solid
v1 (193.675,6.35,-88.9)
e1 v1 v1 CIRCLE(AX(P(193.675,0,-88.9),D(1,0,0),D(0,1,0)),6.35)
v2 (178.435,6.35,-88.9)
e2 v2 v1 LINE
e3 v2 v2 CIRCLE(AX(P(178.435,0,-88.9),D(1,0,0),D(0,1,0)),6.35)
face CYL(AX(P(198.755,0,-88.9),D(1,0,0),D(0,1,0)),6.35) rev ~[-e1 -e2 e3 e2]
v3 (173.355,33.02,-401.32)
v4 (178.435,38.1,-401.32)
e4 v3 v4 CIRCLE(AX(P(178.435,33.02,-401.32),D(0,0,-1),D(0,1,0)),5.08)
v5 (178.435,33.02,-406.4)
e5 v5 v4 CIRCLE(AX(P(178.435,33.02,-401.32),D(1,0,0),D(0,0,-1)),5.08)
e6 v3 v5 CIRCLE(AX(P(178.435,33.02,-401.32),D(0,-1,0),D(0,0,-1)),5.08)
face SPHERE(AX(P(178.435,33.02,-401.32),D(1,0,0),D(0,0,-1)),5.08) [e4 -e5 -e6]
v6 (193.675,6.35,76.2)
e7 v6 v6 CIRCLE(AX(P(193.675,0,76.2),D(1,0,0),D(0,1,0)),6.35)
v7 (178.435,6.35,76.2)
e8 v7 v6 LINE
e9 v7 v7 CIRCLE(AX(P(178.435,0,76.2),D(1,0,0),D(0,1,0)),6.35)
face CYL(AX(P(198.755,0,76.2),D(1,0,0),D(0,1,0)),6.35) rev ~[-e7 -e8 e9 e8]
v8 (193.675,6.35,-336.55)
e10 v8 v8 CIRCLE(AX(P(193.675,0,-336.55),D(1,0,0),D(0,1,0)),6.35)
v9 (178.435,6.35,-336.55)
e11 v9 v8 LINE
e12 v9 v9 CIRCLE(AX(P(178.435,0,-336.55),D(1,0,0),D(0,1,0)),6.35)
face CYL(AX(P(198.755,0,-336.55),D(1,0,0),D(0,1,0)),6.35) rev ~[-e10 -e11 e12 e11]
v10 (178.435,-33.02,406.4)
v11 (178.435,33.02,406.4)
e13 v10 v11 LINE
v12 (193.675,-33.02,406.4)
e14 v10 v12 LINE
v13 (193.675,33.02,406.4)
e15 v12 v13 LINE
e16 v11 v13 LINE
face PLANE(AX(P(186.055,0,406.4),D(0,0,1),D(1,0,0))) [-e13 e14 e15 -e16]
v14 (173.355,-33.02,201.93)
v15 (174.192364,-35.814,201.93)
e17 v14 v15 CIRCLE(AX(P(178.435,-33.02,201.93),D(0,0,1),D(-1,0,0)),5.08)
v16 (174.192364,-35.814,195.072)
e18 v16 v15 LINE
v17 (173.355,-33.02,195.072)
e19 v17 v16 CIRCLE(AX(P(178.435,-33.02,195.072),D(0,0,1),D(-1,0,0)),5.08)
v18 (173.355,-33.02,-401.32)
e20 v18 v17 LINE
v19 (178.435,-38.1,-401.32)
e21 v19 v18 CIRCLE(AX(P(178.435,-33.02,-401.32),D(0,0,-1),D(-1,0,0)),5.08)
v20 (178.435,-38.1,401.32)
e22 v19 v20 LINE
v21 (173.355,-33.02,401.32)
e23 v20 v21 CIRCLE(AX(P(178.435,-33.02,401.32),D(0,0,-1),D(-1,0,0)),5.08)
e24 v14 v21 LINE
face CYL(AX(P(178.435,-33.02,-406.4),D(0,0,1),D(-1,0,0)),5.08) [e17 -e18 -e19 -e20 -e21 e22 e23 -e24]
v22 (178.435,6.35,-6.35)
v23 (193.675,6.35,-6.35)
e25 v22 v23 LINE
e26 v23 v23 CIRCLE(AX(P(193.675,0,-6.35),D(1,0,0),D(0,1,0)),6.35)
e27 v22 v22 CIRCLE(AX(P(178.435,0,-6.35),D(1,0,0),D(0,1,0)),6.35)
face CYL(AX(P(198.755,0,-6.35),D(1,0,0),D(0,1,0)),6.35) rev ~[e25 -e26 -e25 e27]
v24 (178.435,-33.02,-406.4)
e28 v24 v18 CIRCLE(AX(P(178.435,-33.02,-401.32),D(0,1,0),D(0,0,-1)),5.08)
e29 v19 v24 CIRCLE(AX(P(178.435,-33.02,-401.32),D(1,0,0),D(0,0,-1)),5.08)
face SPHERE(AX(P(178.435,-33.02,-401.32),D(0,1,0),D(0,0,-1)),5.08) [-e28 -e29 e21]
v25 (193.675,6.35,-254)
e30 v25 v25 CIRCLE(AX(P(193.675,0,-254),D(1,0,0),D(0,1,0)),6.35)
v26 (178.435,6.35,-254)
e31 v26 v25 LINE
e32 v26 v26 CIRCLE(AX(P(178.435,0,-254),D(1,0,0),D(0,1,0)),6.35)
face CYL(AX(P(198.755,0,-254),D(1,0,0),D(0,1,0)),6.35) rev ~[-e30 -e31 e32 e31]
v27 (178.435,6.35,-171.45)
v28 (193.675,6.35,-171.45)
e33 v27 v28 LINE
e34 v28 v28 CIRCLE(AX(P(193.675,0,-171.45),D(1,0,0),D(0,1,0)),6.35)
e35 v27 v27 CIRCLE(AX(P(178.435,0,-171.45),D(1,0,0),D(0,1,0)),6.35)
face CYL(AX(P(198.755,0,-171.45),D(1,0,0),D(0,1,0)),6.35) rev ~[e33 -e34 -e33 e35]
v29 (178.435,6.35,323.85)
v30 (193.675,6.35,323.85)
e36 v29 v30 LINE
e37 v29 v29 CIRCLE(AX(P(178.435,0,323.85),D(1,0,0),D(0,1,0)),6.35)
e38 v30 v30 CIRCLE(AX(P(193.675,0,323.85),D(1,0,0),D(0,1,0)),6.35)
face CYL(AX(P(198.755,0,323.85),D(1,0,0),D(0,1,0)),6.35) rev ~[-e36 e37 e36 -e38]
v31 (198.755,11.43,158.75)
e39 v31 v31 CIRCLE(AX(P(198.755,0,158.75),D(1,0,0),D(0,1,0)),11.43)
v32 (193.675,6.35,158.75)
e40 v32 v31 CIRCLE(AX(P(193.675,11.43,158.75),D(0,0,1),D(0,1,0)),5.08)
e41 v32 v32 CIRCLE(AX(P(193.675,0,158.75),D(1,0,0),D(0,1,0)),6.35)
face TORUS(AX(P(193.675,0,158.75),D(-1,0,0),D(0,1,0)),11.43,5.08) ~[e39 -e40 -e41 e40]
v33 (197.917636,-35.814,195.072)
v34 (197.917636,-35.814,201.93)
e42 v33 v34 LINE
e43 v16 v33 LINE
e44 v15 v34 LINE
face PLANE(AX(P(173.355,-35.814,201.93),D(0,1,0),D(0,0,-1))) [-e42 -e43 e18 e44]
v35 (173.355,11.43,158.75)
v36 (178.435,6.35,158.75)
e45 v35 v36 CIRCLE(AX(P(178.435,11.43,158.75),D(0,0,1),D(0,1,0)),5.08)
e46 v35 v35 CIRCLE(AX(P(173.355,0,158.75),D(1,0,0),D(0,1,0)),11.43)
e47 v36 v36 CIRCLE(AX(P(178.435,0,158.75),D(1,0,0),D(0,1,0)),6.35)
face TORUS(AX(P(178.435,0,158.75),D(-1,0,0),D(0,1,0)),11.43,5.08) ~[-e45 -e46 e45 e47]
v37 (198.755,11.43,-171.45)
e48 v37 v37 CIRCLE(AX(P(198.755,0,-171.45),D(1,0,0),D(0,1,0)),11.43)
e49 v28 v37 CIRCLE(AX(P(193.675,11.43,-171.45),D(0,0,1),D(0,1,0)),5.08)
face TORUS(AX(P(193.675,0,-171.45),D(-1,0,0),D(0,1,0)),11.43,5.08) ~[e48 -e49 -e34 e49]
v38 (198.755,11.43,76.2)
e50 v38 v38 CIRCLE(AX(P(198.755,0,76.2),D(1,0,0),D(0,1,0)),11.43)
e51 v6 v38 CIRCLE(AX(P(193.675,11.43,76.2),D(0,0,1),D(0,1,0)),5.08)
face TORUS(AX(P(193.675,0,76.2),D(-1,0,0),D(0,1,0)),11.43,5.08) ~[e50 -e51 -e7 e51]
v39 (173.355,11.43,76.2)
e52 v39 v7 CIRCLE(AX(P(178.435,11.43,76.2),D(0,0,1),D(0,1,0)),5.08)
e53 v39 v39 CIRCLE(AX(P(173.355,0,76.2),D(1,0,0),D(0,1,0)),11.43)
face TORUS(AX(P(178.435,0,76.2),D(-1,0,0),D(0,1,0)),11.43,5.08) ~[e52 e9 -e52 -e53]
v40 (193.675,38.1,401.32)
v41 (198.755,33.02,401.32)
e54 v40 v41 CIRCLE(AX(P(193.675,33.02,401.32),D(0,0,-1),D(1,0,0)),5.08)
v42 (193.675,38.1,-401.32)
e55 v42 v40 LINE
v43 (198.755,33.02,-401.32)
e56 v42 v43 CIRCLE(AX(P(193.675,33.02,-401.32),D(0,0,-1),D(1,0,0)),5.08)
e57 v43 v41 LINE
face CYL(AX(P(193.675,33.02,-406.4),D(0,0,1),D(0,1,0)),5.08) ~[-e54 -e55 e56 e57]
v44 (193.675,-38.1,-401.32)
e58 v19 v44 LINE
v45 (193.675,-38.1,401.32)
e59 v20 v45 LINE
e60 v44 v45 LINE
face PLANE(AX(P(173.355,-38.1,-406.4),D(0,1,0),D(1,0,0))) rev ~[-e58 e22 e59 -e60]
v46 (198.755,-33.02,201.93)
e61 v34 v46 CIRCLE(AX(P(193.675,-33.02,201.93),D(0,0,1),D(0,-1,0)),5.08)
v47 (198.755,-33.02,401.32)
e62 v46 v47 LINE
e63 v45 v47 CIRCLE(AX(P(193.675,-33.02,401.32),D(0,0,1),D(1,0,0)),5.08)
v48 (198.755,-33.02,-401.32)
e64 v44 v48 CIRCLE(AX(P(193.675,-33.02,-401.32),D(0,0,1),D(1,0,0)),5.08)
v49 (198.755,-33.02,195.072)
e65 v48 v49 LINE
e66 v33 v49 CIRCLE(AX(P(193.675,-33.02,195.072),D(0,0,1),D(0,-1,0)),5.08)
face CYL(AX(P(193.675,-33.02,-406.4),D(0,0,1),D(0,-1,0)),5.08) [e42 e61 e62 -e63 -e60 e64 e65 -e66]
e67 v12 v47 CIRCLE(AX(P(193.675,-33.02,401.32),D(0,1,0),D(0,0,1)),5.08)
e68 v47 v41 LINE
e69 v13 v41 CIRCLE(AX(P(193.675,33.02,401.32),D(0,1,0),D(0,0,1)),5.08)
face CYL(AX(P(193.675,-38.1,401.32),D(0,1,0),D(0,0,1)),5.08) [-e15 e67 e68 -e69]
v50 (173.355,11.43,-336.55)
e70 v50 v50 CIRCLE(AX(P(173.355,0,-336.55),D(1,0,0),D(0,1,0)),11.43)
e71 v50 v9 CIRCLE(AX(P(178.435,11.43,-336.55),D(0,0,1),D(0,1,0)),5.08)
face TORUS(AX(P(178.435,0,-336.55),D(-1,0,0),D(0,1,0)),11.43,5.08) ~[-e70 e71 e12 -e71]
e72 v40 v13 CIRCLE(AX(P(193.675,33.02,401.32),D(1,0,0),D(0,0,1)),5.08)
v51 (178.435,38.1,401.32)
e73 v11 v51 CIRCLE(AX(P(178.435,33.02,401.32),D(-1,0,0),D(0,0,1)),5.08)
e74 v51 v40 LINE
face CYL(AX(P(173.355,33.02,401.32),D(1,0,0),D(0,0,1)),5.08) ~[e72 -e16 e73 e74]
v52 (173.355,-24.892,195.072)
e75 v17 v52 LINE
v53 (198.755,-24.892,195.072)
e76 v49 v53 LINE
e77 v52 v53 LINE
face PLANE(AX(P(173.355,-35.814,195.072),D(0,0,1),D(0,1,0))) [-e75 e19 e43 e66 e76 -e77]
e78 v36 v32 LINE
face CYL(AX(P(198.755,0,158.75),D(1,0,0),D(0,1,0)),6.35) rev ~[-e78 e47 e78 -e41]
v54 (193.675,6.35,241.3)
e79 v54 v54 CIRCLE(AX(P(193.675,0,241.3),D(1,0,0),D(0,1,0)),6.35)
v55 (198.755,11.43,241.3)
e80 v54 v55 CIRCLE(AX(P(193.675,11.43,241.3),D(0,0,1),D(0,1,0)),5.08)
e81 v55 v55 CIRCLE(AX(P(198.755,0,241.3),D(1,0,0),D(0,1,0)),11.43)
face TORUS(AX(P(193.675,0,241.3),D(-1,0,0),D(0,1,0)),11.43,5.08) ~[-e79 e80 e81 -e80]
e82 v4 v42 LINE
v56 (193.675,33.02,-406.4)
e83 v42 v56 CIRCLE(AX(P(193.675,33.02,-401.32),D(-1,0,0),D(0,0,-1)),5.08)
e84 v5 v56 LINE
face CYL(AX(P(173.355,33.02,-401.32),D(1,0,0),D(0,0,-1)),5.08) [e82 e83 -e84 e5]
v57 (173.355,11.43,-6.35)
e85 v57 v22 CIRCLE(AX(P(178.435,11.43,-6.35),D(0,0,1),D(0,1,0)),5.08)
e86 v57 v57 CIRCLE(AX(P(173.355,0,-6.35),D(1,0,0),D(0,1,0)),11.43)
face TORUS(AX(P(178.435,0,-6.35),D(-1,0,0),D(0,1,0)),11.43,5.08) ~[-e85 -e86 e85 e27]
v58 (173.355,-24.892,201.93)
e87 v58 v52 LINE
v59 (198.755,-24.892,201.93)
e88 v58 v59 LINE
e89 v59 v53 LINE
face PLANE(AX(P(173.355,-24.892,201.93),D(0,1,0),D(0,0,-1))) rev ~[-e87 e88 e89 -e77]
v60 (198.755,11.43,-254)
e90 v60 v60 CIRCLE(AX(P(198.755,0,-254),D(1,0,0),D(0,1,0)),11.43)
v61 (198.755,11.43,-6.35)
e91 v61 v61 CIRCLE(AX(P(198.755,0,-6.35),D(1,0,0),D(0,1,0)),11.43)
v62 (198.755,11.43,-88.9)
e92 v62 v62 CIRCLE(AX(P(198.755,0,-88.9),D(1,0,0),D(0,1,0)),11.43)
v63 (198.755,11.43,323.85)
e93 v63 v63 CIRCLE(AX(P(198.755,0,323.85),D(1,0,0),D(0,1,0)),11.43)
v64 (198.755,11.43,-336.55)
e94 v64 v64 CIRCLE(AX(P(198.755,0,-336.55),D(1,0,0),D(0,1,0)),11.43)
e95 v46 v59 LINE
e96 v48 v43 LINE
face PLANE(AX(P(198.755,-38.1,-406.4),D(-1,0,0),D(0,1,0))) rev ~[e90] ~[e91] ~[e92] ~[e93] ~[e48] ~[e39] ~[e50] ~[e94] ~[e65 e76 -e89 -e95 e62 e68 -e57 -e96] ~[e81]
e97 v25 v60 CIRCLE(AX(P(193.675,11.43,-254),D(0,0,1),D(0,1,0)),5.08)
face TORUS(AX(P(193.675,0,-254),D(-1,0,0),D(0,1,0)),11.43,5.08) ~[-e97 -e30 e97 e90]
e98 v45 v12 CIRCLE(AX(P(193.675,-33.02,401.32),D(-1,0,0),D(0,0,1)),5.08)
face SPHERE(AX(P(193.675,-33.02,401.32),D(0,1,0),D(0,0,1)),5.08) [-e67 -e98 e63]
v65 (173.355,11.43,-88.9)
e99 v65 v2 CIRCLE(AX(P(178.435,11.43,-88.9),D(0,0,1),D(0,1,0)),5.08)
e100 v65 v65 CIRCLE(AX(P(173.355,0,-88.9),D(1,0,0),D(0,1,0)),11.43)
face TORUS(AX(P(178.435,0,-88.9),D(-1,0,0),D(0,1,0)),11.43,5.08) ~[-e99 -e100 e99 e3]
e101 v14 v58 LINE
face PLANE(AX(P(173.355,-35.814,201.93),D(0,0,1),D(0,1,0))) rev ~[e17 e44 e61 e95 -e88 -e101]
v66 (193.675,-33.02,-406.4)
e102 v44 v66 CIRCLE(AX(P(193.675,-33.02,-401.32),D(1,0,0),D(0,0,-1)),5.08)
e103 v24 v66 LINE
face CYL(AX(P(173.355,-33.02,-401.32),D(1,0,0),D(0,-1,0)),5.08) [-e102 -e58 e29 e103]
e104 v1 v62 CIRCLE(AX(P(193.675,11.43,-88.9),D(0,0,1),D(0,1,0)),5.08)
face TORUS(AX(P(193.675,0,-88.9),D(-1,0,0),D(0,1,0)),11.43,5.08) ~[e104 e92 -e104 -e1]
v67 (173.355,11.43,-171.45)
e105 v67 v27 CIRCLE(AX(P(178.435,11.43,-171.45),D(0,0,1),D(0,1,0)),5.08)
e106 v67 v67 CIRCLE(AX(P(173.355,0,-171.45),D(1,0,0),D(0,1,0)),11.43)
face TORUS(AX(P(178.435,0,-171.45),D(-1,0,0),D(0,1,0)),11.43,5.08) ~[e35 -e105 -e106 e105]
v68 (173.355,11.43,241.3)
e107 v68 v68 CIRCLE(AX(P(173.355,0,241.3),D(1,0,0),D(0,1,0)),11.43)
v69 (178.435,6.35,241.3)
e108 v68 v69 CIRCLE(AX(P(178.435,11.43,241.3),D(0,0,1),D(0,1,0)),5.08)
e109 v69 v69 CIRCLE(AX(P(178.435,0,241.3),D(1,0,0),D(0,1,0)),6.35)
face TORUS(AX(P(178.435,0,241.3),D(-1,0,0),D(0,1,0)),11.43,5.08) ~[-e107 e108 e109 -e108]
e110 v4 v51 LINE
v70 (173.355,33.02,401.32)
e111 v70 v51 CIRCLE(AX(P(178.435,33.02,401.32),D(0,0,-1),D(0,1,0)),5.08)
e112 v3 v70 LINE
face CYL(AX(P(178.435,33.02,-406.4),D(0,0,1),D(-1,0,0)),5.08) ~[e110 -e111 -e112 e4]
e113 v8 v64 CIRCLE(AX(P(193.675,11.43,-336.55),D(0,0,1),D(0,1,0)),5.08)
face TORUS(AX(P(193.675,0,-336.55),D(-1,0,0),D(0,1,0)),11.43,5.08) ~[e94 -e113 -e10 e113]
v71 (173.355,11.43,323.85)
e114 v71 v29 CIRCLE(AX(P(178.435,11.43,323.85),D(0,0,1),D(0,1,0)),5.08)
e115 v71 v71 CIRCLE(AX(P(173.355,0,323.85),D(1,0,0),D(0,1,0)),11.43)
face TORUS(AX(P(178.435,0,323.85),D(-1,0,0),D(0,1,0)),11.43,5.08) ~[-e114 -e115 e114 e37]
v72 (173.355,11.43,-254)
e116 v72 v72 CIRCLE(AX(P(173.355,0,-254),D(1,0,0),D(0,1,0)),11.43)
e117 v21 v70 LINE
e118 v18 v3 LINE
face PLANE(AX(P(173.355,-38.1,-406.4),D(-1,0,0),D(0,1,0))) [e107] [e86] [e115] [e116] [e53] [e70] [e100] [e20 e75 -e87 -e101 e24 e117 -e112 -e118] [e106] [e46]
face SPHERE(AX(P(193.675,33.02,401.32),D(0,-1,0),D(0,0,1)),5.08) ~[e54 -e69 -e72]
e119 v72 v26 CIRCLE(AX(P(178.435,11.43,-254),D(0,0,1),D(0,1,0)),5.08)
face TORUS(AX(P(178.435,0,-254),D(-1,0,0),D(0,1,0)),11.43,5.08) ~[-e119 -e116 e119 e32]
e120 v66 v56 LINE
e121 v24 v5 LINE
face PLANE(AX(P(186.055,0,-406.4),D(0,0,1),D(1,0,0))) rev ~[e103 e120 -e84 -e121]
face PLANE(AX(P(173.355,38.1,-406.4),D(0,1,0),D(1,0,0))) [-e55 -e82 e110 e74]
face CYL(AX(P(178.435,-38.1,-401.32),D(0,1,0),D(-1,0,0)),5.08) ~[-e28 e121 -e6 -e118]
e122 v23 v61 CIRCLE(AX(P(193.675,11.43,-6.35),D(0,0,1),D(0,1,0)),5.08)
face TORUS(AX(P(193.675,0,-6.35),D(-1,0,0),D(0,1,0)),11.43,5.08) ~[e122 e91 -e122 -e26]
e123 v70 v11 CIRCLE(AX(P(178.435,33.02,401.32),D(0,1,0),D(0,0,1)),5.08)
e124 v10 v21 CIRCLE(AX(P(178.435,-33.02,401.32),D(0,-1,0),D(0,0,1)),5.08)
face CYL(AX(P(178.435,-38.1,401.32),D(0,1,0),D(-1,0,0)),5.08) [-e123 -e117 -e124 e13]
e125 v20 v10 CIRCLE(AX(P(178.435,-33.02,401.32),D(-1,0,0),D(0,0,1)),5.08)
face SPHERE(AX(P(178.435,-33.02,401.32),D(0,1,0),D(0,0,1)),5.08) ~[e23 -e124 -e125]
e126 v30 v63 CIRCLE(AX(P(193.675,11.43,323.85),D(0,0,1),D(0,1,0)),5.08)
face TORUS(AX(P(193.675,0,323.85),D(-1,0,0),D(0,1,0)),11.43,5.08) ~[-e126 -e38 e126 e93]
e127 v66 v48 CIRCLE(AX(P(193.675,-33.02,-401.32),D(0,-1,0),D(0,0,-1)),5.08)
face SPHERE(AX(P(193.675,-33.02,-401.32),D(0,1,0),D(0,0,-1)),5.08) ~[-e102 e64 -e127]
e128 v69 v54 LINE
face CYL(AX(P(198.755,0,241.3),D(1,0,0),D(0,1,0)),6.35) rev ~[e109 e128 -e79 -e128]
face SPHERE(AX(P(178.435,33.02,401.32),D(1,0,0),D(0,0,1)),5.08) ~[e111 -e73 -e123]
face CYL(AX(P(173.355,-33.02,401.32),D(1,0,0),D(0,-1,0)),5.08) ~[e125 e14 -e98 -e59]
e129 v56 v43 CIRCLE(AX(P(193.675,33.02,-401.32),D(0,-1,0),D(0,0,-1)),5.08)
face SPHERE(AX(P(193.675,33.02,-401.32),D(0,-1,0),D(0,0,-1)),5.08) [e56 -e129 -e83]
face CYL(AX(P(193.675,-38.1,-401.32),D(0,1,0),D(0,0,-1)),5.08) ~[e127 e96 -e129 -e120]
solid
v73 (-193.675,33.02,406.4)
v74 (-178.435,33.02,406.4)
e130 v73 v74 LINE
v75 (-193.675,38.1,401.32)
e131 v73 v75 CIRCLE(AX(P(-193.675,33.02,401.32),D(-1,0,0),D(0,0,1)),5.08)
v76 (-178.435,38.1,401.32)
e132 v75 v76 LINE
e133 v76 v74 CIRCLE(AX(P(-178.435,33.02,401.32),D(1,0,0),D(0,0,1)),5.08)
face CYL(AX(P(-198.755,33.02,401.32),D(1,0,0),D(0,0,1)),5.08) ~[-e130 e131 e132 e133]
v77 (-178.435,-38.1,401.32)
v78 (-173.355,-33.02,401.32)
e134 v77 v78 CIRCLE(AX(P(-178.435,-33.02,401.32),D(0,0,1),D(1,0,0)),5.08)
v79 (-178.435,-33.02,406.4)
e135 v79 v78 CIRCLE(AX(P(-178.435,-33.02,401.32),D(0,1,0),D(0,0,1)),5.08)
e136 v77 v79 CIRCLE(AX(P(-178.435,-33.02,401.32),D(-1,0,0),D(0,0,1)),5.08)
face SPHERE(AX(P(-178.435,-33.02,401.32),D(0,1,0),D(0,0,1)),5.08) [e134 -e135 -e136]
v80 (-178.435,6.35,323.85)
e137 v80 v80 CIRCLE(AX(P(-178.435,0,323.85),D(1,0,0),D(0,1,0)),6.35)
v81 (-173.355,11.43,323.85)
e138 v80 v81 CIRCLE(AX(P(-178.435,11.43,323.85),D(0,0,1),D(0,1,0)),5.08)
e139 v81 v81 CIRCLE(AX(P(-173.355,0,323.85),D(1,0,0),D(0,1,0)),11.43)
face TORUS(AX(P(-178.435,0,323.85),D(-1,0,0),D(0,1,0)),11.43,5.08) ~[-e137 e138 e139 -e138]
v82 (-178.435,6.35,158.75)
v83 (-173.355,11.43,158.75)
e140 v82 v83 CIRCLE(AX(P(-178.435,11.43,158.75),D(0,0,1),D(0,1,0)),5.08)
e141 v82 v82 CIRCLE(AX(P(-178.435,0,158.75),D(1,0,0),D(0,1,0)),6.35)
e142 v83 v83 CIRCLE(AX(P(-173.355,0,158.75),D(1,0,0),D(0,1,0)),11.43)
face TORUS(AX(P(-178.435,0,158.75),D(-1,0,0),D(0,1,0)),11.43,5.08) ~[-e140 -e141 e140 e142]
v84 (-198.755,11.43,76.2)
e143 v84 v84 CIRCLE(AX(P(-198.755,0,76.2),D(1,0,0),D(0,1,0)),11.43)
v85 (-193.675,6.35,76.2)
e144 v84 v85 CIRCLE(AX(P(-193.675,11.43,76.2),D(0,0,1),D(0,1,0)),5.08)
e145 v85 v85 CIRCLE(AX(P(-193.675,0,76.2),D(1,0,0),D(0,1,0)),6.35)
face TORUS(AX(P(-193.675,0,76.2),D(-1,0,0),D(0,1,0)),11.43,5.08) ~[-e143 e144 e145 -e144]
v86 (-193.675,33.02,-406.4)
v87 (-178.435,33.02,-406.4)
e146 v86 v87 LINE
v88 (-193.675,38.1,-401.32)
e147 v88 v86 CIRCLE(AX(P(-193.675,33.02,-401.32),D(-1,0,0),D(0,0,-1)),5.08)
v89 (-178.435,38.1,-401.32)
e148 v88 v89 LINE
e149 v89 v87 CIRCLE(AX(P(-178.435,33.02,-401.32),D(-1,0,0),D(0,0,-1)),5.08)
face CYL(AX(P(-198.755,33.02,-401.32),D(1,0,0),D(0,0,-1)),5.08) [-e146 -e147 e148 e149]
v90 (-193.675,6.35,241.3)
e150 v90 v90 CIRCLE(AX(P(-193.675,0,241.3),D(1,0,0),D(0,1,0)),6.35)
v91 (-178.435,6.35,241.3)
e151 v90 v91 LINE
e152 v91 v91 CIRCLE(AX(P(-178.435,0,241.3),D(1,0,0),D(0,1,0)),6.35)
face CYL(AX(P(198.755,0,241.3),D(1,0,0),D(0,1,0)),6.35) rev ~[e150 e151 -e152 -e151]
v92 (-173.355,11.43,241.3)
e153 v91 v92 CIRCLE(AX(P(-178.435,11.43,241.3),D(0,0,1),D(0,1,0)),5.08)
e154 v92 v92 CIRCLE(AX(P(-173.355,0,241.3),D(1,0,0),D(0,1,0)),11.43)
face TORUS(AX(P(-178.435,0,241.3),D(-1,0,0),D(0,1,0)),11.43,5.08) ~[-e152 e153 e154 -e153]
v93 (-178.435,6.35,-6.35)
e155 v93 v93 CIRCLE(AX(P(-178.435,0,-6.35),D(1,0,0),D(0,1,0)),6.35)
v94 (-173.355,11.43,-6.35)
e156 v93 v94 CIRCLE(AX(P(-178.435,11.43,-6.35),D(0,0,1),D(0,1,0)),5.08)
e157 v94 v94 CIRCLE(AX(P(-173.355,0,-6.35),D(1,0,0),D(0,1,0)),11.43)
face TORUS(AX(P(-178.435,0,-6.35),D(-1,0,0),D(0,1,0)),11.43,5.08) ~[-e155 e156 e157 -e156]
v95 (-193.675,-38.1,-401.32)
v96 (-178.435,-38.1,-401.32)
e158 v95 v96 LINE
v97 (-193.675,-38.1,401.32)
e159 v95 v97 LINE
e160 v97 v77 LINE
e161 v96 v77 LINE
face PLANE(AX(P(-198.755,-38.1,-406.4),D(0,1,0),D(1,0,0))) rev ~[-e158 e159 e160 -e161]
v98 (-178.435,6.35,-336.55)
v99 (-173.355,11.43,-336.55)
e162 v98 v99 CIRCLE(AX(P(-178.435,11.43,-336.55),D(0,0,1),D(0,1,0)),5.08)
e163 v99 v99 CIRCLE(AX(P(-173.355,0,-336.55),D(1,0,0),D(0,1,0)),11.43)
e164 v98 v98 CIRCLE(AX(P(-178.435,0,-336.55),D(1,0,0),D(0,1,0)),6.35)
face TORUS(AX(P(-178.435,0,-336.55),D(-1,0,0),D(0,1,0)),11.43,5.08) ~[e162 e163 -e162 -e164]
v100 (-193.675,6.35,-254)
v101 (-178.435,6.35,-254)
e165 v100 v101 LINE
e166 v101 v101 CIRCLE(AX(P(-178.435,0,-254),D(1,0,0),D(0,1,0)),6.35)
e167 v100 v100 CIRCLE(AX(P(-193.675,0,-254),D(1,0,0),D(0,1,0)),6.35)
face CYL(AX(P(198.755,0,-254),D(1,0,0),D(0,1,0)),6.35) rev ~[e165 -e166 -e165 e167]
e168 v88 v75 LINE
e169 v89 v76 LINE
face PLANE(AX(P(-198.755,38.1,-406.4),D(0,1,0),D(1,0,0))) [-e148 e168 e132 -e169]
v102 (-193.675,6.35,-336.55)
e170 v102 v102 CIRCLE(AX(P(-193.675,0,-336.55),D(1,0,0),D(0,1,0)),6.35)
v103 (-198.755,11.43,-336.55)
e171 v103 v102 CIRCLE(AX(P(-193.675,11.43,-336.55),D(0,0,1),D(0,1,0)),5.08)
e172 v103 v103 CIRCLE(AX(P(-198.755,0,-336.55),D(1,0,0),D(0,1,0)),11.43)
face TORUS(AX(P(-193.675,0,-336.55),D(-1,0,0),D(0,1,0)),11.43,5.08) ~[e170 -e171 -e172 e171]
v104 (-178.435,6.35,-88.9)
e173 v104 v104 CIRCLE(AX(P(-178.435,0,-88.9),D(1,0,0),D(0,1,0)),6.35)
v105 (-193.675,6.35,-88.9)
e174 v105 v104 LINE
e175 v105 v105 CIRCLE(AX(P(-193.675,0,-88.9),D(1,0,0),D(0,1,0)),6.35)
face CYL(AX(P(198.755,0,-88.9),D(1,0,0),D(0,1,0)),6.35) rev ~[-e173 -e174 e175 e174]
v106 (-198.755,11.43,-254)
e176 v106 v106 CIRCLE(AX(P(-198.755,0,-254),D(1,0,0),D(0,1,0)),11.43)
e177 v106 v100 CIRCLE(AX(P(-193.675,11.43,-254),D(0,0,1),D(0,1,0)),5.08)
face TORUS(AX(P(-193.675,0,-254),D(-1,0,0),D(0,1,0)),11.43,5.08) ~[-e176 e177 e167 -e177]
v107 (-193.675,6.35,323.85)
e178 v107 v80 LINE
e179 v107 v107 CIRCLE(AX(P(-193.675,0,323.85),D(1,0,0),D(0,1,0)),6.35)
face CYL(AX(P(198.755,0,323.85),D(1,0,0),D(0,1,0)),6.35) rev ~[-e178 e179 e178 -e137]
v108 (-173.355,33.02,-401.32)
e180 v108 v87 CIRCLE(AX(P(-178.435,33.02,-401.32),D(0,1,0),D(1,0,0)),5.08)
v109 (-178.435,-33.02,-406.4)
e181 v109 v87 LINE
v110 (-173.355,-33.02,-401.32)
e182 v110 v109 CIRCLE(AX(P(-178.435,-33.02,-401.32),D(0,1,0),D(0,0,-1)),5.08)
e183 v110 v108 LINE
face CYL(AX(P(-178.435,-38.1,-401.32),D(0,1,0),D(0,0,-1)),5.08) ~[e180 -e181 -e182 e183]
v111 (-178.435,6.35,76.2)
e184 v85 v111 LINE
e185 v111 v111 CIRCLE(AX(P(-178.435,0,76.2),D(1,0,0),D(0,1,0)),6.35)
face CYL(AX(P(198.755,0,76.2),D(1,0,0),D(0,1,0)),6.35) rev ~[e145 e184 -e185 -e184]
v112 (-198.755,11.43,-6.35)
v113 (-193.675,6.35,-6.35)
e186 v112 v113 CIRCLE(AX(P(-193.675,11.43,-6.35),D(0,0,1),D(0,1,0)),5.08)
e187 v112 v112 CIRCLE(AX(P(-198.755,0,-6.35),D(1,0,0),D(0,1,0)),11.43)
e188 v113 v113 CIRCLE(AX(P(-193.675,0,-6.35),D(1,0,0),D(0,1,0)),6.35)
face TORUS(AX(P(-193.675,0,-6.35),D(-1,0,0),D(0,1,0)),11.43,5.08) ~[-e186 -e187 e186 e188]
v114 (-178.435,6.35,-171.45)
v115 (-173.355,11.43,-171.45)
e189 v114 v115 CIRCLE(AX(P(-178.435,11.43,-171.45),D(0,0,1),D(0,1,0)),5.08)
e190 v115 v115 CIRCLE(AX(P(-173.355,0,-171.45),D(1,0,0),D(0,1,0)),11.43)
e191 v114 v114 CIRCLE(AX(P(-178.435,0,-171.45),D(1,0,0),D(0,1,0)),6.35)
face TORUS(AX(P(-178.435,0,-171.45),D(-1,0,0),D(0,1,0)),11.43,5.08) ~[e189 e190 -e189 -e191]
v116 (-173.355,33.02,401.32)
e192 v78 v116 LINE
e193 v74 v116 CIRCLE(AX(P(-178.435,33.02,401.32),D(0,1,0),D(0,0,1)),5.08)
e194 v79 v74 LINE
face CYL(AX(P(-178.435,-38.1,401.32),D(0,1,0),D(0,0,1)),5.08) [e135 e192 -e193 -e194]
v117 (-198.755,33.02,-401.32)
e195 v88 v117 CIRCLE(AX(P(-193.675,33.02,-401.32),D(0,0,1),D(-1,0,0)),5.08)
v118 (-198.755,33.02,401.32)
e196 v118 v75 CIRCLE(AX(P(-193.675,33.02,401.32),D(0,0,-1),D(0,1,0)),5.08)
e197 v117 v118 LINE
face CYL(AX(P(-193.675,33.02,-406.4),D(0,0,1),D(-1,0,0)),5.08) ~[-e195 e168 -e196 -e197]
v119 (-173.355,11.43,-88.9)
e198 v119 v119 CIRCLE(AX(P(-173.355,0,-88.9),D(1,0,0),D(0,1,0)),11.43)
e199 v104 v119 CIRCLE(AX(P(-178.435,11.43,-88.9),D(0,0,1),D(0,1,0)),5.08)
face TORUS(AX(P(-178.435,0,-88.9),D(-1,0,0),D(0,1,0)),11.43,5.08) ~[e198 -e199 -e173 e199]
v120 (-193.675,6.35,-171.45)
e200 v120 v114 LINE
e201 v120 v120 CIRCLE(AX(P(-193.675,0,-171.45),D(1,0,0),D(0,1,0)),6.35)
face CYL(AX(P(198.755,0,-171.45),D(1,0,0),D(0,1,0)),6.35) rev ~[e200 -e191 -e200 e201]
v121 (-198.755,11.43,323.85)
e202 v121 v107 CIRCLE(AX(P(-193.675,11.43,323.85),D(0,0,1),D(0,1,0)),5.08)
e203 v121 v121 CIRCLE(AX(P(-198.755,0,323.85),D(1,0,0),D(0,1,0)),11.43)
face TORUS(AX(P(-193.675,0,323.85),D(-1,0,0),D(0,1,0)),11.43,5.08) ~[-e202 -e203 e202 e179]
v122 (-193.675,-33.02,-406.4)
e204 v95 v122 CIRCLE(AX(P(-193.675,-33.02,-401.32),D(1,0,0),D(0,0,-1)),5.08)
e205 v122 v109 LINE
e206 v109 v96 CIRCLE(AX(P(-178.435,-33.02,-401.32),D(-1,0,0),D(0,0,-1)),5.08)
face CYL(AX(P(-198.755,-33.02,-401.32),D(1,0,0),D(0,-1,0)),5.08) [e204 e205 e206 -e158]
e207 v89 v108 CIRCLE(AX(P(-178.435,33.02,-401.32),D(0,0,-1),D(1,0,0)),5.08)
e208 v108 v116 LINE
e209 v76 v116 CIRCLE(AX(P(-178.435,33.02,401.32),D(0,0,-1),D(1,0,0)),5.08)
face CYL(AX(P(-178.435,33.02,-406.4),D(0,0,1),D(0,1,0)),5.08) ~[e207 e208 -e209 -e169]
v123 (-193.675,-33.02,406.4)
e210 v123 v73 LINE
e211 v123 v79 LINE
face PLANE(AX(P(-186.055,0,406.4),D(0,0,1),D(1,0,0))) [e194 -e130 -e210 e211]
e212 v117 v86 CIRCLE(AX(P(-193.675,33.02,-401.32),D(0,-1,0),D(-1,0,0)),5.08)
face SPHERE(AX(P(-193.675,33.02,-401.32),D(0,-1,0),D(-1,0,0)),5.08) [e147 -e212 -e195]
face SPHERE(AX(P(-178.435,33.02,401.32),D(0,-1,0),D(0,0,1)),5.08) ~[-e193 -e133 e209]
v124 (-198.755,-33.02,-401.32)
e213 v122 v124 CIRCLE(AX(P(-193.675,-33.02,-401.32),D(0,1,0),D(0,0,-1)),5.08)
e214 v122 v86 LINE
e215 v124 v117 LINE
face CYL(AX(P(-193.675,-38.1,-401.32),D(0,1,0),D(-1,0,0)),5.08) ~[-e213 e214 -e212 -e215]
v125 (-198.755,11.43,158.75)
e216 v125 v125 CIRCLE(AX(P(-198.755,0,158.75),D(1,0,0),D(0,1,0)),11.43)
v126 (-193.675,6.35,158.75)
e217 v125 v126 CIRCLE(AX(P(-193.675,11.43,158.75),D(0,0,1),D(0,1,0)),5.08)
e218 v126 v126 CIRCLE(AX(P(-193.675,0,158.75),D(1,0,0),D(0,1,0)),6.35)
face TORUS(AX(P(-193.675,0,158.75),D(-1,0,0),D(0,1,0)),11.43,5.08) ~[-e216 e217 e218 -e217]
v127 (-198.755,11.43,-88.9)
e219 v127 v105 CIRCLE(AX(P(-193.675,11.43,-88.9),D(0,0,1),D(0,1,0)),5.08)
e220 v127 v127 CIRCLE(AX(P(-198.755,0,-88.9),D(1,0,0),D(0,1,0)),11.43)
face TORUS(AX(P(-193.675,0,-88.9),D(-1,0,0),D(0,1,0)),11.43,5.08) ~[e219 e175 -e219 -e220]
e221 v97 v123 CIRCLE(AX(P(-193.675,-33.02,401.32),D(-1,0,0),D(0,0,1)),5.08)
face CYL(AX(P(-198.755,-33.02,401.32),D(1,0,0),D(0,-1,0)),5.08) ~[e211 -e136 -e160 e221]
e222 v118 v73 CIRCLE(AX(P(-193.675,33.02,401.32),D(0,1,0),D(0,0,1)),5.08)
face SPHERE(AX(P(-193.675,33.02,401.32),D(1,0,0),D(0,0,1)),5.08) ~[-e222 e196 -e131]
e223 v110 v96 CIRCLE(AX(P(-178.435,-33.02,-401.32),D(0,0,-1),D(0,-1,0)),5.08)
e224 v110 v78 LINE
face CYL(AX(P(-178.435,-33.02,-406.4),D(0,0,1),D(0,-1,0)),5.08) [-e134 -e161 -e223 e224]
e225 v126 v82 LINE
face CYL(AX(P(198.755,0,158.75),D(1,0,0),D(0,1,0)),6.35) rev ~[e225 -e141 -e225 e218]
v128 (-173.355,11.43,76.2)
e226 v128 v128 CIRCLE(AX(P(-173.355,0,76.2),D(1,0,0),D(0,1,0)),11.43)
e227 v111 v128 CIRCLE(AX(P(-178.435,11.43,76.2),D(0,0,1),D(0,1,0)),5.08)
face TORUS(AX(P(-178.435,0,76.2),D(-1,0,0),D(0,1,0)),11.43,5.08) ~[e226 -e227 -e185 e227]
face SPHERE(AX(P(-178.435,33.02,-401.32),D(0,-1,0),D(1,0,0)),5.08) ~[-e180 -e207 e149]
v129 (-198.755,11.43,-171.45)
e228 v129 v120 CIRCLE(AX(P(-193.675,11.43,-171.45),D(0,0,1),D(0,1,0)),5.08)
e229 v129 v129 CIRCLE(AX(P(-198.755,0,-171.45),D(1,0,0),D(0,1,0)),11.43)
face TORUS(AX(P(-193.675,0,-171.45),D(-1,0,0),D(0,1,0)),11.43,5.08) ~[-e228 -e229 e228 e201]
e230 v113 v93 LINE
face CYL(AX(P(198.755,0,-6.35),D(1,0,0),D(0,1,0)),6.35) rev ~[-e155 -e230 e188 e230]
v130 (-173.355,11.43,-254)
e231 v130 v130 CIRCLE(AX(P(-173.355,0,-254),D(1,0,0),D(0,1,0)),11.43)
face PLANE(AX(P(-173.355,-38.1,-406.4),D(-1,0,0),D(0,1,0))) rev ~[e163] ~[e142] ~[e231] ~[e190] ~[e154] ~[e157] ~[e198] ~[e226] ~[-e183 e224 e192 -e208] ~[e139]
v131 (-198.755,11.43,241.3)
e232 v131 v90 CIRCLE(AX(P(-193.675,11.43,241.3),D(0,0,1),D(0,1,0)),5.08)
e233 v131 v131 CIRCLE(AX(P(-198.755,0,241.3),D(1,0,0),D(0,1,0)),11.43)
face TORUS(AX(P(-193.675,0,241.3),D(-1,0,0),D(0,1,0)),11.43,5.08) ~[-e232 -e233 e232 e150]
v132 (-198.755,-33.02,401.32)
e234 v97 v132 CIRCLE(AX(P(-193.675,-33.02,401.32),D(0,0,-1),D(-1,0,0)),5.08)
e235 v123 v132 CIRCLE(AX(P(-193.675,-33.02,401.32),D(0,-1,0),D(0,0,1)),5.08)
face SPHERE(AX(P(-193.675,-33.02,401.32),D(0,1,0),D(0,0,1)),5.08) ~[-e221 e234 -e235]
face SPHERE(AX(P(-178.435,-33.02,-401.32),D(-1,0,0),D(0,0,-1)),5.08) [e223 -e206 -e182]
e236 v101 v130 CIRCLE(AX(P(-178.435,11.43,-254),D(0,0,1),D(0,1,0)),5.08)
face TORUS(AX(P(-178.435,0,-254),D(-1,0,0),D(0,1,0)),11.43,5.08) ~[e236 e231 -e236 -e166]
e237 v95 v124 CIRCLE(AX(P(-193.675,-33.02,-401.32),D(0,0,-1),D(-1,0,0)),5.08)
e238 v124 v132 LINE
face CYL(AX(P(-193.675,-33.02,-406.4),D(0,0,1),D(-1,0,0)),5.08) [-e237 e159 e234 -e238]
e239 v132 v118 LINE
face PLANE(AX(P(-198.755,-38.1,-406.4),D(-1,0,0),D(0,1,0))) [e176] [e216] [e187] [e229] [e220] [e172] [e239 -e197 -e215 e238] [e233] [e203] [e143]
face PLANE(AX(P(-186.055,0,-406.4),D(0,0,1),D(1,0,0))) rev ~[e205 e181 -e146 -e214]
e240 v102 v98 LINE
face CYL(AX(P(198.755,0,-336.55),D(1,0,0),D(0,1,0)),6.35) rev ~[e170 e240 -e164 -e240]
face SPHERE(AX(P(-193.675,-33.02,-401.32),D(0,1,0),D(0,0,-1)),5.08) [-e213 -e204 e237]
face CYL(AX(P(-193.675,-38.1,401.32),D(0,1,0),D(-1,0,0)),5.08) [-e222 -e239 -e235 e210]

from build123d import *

# Parameters (mm, degrees)
BOSS_EXTRUDE1_DEPTH        = 406.4
BOSS_EXTRUDE1_DEPTH_BACK   = 406.4
SKETCH1_W                  = 25.4
SKETCH1_H                  = 76.2
BOSS_EXTRUDE1_2_DEPTH      = 406.4
BOSS_EXTRUDE1_2_DEPTH_BACK = 406.4
SKETCH2_R                  = 6.35
CUT_EXTRUDE1_DEPTH         = 570.760274238
LPATTERN1_COUNT            = 9
LPATTERN1_PITCH            = 82.55
FILLET1_R                  = 5.08
FILLET2_R                  = 5.08
CUT_EXTRUDE2_START         = -25.4
SKETCH4_W                  = 6.858
SKETCH4_H                  = 10.922
CUT_EXTRUDE2_DEPTH         = 25.4


with BuildPart() as part:
    # Sketch1 → Boss-Extrude1 (new, two sides: drawn at the far end of the back side and taken through both)
    with BuildSketch(Plane.XY.offset(-BOSS_EXTRUDE1_DEPTH_BACK)):
        with Locations((-186.055, 0)):
            Rectangle(SKETCH1_W, SKETCH1_H)
    extrude(amount=BOSS_EXTRUDE1_DEPTH + BOSS_EXTRUDE1_DEPTH_BACK)


with BuildPart() as body_2:
    # Sketch1 → Boss-Extrude1 2 (new, two sides: drawn at the far end of the back side and taken through both)
    with BuildSketch(Plane.XY.offset(-BOSS_EXTRUDE1_2_DEPTH_BACK)):
        with Locations((186.055, 0)):
            Rectangle(SKETCH1_W, SKETCH1_H)
    extrude(amount=BOSS_EXTRUDE1_2_DEPTH + BOSS_EXTRUDE1_2_DEPTH_BACK)


with BuildPart() as cut_extrude1_tool:
    # Sketch2 → Cut-Extrude1 (new, symmetric)
    with BuildSketch(Plane(origin=(198.755, 0, 0), x_dir=(0, 0, -1), z_dir=(1, 0, 0))):
        with Locations(Location((-323.85, 0, 0), (0, 0, 90))):
            Circle(SKETCH2_R)
    cut_extrude1 = extrude(amount=CUT_EXTRUDE1_DEPTH, both=True)


with BuildPart() as part_1:
    add(part.part)

    # Cut-Extrude1: cut by cut_extrude1_tool
    add(cut_extrude1_tool.part, mode=Mode.SUBTRACT)


with BuildPart() as body_2_1:
    add(body_2.part)

    # Cut-Extrude1: cut by cut_extrude1_tool
    add(cut_extrude1_tool.part, mode=Mode.SUBTRACT)


with BuildPart() as lpattern1_tool:
    # LPattern1: Cut-Extrude1 ×9
    with Locations(*[(0, 0, -i * LPATTERN1_PITCH) for i in range(1, LPATTERN1_COUNT)]):
        add(cut_extrude1)


with BuildPart() as part_2:
    add(part_1.part)

    # LPattern1: cut by lpattern1_tool
    add(lpattern1_tool.part, mode=Mode.SUBTRACT)

    # Fillet2
    fillet2_edges = [part_2.edges().sort_by_distance(p)[0] for p in [
        (-173.355, 0, 406.4),
        (-198.755, 0, -406.4),
        (-186.055, 38.1, 406.4),
        (-198.755, 0, 406.4),
        (-186.055, -38.1, 406.4),
        (-186.055, -38.1, -406.4),
        (-173.355, -6.35, 323.85),
        (-198.755, -6.35, 323.85),
        (-173.355, -6.35, 241.3),
        (-198.755, -6.35, 241.3),
        (-173.355, -6.35, 158.75),
        (-198.755, -6.35, 158.75),
        (-173.355, 0, -406.4),
        (-173.355, -6.35, 76.2),
        (-198.755, -6.35, 76.2),
        (-173.355, -6.35, -6.35),
        (-198.755, -6.35, -6.35),
        (-173.355, -6.35, -88.9),
        (-198.755, -6.35, -88.9),
        (-173.355, -6.35, -171.45),
        (-198.755, -6.35, -171.45),
        (-173.355, -6.35, -254),
        (-198.755, -6.35, -254),
        (-173.355, -6.35, -336.55),
        (-198.755, -6.35, -336.55),
        (-173.355, -38.1, 0),
        (-198.755, -38.1, 0),
        (-198.755, 38.1, 0),
        (-173.355, 38.1, 0),
        (-186.055, 38.1, -406.4),
    ]]
    fillet(fillet2_edges, radius=FILLET2_R)


with BuildPart() as body_2_2:
    add(body_2_1.part)

    # LPattern1: cut by lpattern1_tool
    add(lpattern1_tool.part, mode=Mode.SUBTRACT)

    # Fillet1
    fillet1_edges = [body_2_2.edges().sort_by_distance(p)[0] for p in [
        (198.755, -6.35, 323.85),
        (173.355, -6.35, 323.85),
        (198.755, -6.35, 241.3),
        (173.355, -6.35, 241.3),
        (198.755, -6.35, 158.75),
        (173.355, -6.35, 158.75),
        (198.755, 0, 406.4),
        (186.055, 38.1, 406.4),
        (198.755, -6.35, 76.2),
        (173.355, -6.35, 76.2),
        (173.355, 0, 406.4),
        (198.755, -6.35, -6.35),
        (186.055, -38.1, 406.4),
        (173.355, -6.35, -6.35),
        (198.755, 0, -406.4),
        (198.755, -6.35, -88.9),
        (173.355, -6.35, -88.9),
        (186.055, 38.1, -406.4),
        (173.355, 0, -406.4),
        (198.755, -6.35, -171.45),
        (173.355, -6.35, -171.45),
        (186.055, -38.1, -406.4),
        (198.755, 38.1, 0),
        (173.355, 38.1, 0),
        (198.755, -6.35, -254),
        (173.355, -38.1, 0),
        (173.355, -6.35, -254),
        (198.755, -38.1, 0),
        (198.755, -6.35, -336.55),
        (173.355, -6.35, -336.55),
    ]]
    fillet(fillet1_edges, radius=FILLET1_R)

    # Sketch4 → Cut-Extrude2 (cut)
    with BuildSketch(Plane(origin=(198.755, 0, 0), x_dir=(0, 0, -1), z_dir=(1, 0, 0)).offset(CUT_EXTRUDE2_START)):
        with Locations((-198.501, -30.353)):
            Rectangle(SKETCH4_W, SKETCH4_H)
    extrude(amount=CUT_EXTRUDE2_DEPTH, mode=Mode.SUBTRACT)


solid = Compound([part_2.part, body_2_2.part])
